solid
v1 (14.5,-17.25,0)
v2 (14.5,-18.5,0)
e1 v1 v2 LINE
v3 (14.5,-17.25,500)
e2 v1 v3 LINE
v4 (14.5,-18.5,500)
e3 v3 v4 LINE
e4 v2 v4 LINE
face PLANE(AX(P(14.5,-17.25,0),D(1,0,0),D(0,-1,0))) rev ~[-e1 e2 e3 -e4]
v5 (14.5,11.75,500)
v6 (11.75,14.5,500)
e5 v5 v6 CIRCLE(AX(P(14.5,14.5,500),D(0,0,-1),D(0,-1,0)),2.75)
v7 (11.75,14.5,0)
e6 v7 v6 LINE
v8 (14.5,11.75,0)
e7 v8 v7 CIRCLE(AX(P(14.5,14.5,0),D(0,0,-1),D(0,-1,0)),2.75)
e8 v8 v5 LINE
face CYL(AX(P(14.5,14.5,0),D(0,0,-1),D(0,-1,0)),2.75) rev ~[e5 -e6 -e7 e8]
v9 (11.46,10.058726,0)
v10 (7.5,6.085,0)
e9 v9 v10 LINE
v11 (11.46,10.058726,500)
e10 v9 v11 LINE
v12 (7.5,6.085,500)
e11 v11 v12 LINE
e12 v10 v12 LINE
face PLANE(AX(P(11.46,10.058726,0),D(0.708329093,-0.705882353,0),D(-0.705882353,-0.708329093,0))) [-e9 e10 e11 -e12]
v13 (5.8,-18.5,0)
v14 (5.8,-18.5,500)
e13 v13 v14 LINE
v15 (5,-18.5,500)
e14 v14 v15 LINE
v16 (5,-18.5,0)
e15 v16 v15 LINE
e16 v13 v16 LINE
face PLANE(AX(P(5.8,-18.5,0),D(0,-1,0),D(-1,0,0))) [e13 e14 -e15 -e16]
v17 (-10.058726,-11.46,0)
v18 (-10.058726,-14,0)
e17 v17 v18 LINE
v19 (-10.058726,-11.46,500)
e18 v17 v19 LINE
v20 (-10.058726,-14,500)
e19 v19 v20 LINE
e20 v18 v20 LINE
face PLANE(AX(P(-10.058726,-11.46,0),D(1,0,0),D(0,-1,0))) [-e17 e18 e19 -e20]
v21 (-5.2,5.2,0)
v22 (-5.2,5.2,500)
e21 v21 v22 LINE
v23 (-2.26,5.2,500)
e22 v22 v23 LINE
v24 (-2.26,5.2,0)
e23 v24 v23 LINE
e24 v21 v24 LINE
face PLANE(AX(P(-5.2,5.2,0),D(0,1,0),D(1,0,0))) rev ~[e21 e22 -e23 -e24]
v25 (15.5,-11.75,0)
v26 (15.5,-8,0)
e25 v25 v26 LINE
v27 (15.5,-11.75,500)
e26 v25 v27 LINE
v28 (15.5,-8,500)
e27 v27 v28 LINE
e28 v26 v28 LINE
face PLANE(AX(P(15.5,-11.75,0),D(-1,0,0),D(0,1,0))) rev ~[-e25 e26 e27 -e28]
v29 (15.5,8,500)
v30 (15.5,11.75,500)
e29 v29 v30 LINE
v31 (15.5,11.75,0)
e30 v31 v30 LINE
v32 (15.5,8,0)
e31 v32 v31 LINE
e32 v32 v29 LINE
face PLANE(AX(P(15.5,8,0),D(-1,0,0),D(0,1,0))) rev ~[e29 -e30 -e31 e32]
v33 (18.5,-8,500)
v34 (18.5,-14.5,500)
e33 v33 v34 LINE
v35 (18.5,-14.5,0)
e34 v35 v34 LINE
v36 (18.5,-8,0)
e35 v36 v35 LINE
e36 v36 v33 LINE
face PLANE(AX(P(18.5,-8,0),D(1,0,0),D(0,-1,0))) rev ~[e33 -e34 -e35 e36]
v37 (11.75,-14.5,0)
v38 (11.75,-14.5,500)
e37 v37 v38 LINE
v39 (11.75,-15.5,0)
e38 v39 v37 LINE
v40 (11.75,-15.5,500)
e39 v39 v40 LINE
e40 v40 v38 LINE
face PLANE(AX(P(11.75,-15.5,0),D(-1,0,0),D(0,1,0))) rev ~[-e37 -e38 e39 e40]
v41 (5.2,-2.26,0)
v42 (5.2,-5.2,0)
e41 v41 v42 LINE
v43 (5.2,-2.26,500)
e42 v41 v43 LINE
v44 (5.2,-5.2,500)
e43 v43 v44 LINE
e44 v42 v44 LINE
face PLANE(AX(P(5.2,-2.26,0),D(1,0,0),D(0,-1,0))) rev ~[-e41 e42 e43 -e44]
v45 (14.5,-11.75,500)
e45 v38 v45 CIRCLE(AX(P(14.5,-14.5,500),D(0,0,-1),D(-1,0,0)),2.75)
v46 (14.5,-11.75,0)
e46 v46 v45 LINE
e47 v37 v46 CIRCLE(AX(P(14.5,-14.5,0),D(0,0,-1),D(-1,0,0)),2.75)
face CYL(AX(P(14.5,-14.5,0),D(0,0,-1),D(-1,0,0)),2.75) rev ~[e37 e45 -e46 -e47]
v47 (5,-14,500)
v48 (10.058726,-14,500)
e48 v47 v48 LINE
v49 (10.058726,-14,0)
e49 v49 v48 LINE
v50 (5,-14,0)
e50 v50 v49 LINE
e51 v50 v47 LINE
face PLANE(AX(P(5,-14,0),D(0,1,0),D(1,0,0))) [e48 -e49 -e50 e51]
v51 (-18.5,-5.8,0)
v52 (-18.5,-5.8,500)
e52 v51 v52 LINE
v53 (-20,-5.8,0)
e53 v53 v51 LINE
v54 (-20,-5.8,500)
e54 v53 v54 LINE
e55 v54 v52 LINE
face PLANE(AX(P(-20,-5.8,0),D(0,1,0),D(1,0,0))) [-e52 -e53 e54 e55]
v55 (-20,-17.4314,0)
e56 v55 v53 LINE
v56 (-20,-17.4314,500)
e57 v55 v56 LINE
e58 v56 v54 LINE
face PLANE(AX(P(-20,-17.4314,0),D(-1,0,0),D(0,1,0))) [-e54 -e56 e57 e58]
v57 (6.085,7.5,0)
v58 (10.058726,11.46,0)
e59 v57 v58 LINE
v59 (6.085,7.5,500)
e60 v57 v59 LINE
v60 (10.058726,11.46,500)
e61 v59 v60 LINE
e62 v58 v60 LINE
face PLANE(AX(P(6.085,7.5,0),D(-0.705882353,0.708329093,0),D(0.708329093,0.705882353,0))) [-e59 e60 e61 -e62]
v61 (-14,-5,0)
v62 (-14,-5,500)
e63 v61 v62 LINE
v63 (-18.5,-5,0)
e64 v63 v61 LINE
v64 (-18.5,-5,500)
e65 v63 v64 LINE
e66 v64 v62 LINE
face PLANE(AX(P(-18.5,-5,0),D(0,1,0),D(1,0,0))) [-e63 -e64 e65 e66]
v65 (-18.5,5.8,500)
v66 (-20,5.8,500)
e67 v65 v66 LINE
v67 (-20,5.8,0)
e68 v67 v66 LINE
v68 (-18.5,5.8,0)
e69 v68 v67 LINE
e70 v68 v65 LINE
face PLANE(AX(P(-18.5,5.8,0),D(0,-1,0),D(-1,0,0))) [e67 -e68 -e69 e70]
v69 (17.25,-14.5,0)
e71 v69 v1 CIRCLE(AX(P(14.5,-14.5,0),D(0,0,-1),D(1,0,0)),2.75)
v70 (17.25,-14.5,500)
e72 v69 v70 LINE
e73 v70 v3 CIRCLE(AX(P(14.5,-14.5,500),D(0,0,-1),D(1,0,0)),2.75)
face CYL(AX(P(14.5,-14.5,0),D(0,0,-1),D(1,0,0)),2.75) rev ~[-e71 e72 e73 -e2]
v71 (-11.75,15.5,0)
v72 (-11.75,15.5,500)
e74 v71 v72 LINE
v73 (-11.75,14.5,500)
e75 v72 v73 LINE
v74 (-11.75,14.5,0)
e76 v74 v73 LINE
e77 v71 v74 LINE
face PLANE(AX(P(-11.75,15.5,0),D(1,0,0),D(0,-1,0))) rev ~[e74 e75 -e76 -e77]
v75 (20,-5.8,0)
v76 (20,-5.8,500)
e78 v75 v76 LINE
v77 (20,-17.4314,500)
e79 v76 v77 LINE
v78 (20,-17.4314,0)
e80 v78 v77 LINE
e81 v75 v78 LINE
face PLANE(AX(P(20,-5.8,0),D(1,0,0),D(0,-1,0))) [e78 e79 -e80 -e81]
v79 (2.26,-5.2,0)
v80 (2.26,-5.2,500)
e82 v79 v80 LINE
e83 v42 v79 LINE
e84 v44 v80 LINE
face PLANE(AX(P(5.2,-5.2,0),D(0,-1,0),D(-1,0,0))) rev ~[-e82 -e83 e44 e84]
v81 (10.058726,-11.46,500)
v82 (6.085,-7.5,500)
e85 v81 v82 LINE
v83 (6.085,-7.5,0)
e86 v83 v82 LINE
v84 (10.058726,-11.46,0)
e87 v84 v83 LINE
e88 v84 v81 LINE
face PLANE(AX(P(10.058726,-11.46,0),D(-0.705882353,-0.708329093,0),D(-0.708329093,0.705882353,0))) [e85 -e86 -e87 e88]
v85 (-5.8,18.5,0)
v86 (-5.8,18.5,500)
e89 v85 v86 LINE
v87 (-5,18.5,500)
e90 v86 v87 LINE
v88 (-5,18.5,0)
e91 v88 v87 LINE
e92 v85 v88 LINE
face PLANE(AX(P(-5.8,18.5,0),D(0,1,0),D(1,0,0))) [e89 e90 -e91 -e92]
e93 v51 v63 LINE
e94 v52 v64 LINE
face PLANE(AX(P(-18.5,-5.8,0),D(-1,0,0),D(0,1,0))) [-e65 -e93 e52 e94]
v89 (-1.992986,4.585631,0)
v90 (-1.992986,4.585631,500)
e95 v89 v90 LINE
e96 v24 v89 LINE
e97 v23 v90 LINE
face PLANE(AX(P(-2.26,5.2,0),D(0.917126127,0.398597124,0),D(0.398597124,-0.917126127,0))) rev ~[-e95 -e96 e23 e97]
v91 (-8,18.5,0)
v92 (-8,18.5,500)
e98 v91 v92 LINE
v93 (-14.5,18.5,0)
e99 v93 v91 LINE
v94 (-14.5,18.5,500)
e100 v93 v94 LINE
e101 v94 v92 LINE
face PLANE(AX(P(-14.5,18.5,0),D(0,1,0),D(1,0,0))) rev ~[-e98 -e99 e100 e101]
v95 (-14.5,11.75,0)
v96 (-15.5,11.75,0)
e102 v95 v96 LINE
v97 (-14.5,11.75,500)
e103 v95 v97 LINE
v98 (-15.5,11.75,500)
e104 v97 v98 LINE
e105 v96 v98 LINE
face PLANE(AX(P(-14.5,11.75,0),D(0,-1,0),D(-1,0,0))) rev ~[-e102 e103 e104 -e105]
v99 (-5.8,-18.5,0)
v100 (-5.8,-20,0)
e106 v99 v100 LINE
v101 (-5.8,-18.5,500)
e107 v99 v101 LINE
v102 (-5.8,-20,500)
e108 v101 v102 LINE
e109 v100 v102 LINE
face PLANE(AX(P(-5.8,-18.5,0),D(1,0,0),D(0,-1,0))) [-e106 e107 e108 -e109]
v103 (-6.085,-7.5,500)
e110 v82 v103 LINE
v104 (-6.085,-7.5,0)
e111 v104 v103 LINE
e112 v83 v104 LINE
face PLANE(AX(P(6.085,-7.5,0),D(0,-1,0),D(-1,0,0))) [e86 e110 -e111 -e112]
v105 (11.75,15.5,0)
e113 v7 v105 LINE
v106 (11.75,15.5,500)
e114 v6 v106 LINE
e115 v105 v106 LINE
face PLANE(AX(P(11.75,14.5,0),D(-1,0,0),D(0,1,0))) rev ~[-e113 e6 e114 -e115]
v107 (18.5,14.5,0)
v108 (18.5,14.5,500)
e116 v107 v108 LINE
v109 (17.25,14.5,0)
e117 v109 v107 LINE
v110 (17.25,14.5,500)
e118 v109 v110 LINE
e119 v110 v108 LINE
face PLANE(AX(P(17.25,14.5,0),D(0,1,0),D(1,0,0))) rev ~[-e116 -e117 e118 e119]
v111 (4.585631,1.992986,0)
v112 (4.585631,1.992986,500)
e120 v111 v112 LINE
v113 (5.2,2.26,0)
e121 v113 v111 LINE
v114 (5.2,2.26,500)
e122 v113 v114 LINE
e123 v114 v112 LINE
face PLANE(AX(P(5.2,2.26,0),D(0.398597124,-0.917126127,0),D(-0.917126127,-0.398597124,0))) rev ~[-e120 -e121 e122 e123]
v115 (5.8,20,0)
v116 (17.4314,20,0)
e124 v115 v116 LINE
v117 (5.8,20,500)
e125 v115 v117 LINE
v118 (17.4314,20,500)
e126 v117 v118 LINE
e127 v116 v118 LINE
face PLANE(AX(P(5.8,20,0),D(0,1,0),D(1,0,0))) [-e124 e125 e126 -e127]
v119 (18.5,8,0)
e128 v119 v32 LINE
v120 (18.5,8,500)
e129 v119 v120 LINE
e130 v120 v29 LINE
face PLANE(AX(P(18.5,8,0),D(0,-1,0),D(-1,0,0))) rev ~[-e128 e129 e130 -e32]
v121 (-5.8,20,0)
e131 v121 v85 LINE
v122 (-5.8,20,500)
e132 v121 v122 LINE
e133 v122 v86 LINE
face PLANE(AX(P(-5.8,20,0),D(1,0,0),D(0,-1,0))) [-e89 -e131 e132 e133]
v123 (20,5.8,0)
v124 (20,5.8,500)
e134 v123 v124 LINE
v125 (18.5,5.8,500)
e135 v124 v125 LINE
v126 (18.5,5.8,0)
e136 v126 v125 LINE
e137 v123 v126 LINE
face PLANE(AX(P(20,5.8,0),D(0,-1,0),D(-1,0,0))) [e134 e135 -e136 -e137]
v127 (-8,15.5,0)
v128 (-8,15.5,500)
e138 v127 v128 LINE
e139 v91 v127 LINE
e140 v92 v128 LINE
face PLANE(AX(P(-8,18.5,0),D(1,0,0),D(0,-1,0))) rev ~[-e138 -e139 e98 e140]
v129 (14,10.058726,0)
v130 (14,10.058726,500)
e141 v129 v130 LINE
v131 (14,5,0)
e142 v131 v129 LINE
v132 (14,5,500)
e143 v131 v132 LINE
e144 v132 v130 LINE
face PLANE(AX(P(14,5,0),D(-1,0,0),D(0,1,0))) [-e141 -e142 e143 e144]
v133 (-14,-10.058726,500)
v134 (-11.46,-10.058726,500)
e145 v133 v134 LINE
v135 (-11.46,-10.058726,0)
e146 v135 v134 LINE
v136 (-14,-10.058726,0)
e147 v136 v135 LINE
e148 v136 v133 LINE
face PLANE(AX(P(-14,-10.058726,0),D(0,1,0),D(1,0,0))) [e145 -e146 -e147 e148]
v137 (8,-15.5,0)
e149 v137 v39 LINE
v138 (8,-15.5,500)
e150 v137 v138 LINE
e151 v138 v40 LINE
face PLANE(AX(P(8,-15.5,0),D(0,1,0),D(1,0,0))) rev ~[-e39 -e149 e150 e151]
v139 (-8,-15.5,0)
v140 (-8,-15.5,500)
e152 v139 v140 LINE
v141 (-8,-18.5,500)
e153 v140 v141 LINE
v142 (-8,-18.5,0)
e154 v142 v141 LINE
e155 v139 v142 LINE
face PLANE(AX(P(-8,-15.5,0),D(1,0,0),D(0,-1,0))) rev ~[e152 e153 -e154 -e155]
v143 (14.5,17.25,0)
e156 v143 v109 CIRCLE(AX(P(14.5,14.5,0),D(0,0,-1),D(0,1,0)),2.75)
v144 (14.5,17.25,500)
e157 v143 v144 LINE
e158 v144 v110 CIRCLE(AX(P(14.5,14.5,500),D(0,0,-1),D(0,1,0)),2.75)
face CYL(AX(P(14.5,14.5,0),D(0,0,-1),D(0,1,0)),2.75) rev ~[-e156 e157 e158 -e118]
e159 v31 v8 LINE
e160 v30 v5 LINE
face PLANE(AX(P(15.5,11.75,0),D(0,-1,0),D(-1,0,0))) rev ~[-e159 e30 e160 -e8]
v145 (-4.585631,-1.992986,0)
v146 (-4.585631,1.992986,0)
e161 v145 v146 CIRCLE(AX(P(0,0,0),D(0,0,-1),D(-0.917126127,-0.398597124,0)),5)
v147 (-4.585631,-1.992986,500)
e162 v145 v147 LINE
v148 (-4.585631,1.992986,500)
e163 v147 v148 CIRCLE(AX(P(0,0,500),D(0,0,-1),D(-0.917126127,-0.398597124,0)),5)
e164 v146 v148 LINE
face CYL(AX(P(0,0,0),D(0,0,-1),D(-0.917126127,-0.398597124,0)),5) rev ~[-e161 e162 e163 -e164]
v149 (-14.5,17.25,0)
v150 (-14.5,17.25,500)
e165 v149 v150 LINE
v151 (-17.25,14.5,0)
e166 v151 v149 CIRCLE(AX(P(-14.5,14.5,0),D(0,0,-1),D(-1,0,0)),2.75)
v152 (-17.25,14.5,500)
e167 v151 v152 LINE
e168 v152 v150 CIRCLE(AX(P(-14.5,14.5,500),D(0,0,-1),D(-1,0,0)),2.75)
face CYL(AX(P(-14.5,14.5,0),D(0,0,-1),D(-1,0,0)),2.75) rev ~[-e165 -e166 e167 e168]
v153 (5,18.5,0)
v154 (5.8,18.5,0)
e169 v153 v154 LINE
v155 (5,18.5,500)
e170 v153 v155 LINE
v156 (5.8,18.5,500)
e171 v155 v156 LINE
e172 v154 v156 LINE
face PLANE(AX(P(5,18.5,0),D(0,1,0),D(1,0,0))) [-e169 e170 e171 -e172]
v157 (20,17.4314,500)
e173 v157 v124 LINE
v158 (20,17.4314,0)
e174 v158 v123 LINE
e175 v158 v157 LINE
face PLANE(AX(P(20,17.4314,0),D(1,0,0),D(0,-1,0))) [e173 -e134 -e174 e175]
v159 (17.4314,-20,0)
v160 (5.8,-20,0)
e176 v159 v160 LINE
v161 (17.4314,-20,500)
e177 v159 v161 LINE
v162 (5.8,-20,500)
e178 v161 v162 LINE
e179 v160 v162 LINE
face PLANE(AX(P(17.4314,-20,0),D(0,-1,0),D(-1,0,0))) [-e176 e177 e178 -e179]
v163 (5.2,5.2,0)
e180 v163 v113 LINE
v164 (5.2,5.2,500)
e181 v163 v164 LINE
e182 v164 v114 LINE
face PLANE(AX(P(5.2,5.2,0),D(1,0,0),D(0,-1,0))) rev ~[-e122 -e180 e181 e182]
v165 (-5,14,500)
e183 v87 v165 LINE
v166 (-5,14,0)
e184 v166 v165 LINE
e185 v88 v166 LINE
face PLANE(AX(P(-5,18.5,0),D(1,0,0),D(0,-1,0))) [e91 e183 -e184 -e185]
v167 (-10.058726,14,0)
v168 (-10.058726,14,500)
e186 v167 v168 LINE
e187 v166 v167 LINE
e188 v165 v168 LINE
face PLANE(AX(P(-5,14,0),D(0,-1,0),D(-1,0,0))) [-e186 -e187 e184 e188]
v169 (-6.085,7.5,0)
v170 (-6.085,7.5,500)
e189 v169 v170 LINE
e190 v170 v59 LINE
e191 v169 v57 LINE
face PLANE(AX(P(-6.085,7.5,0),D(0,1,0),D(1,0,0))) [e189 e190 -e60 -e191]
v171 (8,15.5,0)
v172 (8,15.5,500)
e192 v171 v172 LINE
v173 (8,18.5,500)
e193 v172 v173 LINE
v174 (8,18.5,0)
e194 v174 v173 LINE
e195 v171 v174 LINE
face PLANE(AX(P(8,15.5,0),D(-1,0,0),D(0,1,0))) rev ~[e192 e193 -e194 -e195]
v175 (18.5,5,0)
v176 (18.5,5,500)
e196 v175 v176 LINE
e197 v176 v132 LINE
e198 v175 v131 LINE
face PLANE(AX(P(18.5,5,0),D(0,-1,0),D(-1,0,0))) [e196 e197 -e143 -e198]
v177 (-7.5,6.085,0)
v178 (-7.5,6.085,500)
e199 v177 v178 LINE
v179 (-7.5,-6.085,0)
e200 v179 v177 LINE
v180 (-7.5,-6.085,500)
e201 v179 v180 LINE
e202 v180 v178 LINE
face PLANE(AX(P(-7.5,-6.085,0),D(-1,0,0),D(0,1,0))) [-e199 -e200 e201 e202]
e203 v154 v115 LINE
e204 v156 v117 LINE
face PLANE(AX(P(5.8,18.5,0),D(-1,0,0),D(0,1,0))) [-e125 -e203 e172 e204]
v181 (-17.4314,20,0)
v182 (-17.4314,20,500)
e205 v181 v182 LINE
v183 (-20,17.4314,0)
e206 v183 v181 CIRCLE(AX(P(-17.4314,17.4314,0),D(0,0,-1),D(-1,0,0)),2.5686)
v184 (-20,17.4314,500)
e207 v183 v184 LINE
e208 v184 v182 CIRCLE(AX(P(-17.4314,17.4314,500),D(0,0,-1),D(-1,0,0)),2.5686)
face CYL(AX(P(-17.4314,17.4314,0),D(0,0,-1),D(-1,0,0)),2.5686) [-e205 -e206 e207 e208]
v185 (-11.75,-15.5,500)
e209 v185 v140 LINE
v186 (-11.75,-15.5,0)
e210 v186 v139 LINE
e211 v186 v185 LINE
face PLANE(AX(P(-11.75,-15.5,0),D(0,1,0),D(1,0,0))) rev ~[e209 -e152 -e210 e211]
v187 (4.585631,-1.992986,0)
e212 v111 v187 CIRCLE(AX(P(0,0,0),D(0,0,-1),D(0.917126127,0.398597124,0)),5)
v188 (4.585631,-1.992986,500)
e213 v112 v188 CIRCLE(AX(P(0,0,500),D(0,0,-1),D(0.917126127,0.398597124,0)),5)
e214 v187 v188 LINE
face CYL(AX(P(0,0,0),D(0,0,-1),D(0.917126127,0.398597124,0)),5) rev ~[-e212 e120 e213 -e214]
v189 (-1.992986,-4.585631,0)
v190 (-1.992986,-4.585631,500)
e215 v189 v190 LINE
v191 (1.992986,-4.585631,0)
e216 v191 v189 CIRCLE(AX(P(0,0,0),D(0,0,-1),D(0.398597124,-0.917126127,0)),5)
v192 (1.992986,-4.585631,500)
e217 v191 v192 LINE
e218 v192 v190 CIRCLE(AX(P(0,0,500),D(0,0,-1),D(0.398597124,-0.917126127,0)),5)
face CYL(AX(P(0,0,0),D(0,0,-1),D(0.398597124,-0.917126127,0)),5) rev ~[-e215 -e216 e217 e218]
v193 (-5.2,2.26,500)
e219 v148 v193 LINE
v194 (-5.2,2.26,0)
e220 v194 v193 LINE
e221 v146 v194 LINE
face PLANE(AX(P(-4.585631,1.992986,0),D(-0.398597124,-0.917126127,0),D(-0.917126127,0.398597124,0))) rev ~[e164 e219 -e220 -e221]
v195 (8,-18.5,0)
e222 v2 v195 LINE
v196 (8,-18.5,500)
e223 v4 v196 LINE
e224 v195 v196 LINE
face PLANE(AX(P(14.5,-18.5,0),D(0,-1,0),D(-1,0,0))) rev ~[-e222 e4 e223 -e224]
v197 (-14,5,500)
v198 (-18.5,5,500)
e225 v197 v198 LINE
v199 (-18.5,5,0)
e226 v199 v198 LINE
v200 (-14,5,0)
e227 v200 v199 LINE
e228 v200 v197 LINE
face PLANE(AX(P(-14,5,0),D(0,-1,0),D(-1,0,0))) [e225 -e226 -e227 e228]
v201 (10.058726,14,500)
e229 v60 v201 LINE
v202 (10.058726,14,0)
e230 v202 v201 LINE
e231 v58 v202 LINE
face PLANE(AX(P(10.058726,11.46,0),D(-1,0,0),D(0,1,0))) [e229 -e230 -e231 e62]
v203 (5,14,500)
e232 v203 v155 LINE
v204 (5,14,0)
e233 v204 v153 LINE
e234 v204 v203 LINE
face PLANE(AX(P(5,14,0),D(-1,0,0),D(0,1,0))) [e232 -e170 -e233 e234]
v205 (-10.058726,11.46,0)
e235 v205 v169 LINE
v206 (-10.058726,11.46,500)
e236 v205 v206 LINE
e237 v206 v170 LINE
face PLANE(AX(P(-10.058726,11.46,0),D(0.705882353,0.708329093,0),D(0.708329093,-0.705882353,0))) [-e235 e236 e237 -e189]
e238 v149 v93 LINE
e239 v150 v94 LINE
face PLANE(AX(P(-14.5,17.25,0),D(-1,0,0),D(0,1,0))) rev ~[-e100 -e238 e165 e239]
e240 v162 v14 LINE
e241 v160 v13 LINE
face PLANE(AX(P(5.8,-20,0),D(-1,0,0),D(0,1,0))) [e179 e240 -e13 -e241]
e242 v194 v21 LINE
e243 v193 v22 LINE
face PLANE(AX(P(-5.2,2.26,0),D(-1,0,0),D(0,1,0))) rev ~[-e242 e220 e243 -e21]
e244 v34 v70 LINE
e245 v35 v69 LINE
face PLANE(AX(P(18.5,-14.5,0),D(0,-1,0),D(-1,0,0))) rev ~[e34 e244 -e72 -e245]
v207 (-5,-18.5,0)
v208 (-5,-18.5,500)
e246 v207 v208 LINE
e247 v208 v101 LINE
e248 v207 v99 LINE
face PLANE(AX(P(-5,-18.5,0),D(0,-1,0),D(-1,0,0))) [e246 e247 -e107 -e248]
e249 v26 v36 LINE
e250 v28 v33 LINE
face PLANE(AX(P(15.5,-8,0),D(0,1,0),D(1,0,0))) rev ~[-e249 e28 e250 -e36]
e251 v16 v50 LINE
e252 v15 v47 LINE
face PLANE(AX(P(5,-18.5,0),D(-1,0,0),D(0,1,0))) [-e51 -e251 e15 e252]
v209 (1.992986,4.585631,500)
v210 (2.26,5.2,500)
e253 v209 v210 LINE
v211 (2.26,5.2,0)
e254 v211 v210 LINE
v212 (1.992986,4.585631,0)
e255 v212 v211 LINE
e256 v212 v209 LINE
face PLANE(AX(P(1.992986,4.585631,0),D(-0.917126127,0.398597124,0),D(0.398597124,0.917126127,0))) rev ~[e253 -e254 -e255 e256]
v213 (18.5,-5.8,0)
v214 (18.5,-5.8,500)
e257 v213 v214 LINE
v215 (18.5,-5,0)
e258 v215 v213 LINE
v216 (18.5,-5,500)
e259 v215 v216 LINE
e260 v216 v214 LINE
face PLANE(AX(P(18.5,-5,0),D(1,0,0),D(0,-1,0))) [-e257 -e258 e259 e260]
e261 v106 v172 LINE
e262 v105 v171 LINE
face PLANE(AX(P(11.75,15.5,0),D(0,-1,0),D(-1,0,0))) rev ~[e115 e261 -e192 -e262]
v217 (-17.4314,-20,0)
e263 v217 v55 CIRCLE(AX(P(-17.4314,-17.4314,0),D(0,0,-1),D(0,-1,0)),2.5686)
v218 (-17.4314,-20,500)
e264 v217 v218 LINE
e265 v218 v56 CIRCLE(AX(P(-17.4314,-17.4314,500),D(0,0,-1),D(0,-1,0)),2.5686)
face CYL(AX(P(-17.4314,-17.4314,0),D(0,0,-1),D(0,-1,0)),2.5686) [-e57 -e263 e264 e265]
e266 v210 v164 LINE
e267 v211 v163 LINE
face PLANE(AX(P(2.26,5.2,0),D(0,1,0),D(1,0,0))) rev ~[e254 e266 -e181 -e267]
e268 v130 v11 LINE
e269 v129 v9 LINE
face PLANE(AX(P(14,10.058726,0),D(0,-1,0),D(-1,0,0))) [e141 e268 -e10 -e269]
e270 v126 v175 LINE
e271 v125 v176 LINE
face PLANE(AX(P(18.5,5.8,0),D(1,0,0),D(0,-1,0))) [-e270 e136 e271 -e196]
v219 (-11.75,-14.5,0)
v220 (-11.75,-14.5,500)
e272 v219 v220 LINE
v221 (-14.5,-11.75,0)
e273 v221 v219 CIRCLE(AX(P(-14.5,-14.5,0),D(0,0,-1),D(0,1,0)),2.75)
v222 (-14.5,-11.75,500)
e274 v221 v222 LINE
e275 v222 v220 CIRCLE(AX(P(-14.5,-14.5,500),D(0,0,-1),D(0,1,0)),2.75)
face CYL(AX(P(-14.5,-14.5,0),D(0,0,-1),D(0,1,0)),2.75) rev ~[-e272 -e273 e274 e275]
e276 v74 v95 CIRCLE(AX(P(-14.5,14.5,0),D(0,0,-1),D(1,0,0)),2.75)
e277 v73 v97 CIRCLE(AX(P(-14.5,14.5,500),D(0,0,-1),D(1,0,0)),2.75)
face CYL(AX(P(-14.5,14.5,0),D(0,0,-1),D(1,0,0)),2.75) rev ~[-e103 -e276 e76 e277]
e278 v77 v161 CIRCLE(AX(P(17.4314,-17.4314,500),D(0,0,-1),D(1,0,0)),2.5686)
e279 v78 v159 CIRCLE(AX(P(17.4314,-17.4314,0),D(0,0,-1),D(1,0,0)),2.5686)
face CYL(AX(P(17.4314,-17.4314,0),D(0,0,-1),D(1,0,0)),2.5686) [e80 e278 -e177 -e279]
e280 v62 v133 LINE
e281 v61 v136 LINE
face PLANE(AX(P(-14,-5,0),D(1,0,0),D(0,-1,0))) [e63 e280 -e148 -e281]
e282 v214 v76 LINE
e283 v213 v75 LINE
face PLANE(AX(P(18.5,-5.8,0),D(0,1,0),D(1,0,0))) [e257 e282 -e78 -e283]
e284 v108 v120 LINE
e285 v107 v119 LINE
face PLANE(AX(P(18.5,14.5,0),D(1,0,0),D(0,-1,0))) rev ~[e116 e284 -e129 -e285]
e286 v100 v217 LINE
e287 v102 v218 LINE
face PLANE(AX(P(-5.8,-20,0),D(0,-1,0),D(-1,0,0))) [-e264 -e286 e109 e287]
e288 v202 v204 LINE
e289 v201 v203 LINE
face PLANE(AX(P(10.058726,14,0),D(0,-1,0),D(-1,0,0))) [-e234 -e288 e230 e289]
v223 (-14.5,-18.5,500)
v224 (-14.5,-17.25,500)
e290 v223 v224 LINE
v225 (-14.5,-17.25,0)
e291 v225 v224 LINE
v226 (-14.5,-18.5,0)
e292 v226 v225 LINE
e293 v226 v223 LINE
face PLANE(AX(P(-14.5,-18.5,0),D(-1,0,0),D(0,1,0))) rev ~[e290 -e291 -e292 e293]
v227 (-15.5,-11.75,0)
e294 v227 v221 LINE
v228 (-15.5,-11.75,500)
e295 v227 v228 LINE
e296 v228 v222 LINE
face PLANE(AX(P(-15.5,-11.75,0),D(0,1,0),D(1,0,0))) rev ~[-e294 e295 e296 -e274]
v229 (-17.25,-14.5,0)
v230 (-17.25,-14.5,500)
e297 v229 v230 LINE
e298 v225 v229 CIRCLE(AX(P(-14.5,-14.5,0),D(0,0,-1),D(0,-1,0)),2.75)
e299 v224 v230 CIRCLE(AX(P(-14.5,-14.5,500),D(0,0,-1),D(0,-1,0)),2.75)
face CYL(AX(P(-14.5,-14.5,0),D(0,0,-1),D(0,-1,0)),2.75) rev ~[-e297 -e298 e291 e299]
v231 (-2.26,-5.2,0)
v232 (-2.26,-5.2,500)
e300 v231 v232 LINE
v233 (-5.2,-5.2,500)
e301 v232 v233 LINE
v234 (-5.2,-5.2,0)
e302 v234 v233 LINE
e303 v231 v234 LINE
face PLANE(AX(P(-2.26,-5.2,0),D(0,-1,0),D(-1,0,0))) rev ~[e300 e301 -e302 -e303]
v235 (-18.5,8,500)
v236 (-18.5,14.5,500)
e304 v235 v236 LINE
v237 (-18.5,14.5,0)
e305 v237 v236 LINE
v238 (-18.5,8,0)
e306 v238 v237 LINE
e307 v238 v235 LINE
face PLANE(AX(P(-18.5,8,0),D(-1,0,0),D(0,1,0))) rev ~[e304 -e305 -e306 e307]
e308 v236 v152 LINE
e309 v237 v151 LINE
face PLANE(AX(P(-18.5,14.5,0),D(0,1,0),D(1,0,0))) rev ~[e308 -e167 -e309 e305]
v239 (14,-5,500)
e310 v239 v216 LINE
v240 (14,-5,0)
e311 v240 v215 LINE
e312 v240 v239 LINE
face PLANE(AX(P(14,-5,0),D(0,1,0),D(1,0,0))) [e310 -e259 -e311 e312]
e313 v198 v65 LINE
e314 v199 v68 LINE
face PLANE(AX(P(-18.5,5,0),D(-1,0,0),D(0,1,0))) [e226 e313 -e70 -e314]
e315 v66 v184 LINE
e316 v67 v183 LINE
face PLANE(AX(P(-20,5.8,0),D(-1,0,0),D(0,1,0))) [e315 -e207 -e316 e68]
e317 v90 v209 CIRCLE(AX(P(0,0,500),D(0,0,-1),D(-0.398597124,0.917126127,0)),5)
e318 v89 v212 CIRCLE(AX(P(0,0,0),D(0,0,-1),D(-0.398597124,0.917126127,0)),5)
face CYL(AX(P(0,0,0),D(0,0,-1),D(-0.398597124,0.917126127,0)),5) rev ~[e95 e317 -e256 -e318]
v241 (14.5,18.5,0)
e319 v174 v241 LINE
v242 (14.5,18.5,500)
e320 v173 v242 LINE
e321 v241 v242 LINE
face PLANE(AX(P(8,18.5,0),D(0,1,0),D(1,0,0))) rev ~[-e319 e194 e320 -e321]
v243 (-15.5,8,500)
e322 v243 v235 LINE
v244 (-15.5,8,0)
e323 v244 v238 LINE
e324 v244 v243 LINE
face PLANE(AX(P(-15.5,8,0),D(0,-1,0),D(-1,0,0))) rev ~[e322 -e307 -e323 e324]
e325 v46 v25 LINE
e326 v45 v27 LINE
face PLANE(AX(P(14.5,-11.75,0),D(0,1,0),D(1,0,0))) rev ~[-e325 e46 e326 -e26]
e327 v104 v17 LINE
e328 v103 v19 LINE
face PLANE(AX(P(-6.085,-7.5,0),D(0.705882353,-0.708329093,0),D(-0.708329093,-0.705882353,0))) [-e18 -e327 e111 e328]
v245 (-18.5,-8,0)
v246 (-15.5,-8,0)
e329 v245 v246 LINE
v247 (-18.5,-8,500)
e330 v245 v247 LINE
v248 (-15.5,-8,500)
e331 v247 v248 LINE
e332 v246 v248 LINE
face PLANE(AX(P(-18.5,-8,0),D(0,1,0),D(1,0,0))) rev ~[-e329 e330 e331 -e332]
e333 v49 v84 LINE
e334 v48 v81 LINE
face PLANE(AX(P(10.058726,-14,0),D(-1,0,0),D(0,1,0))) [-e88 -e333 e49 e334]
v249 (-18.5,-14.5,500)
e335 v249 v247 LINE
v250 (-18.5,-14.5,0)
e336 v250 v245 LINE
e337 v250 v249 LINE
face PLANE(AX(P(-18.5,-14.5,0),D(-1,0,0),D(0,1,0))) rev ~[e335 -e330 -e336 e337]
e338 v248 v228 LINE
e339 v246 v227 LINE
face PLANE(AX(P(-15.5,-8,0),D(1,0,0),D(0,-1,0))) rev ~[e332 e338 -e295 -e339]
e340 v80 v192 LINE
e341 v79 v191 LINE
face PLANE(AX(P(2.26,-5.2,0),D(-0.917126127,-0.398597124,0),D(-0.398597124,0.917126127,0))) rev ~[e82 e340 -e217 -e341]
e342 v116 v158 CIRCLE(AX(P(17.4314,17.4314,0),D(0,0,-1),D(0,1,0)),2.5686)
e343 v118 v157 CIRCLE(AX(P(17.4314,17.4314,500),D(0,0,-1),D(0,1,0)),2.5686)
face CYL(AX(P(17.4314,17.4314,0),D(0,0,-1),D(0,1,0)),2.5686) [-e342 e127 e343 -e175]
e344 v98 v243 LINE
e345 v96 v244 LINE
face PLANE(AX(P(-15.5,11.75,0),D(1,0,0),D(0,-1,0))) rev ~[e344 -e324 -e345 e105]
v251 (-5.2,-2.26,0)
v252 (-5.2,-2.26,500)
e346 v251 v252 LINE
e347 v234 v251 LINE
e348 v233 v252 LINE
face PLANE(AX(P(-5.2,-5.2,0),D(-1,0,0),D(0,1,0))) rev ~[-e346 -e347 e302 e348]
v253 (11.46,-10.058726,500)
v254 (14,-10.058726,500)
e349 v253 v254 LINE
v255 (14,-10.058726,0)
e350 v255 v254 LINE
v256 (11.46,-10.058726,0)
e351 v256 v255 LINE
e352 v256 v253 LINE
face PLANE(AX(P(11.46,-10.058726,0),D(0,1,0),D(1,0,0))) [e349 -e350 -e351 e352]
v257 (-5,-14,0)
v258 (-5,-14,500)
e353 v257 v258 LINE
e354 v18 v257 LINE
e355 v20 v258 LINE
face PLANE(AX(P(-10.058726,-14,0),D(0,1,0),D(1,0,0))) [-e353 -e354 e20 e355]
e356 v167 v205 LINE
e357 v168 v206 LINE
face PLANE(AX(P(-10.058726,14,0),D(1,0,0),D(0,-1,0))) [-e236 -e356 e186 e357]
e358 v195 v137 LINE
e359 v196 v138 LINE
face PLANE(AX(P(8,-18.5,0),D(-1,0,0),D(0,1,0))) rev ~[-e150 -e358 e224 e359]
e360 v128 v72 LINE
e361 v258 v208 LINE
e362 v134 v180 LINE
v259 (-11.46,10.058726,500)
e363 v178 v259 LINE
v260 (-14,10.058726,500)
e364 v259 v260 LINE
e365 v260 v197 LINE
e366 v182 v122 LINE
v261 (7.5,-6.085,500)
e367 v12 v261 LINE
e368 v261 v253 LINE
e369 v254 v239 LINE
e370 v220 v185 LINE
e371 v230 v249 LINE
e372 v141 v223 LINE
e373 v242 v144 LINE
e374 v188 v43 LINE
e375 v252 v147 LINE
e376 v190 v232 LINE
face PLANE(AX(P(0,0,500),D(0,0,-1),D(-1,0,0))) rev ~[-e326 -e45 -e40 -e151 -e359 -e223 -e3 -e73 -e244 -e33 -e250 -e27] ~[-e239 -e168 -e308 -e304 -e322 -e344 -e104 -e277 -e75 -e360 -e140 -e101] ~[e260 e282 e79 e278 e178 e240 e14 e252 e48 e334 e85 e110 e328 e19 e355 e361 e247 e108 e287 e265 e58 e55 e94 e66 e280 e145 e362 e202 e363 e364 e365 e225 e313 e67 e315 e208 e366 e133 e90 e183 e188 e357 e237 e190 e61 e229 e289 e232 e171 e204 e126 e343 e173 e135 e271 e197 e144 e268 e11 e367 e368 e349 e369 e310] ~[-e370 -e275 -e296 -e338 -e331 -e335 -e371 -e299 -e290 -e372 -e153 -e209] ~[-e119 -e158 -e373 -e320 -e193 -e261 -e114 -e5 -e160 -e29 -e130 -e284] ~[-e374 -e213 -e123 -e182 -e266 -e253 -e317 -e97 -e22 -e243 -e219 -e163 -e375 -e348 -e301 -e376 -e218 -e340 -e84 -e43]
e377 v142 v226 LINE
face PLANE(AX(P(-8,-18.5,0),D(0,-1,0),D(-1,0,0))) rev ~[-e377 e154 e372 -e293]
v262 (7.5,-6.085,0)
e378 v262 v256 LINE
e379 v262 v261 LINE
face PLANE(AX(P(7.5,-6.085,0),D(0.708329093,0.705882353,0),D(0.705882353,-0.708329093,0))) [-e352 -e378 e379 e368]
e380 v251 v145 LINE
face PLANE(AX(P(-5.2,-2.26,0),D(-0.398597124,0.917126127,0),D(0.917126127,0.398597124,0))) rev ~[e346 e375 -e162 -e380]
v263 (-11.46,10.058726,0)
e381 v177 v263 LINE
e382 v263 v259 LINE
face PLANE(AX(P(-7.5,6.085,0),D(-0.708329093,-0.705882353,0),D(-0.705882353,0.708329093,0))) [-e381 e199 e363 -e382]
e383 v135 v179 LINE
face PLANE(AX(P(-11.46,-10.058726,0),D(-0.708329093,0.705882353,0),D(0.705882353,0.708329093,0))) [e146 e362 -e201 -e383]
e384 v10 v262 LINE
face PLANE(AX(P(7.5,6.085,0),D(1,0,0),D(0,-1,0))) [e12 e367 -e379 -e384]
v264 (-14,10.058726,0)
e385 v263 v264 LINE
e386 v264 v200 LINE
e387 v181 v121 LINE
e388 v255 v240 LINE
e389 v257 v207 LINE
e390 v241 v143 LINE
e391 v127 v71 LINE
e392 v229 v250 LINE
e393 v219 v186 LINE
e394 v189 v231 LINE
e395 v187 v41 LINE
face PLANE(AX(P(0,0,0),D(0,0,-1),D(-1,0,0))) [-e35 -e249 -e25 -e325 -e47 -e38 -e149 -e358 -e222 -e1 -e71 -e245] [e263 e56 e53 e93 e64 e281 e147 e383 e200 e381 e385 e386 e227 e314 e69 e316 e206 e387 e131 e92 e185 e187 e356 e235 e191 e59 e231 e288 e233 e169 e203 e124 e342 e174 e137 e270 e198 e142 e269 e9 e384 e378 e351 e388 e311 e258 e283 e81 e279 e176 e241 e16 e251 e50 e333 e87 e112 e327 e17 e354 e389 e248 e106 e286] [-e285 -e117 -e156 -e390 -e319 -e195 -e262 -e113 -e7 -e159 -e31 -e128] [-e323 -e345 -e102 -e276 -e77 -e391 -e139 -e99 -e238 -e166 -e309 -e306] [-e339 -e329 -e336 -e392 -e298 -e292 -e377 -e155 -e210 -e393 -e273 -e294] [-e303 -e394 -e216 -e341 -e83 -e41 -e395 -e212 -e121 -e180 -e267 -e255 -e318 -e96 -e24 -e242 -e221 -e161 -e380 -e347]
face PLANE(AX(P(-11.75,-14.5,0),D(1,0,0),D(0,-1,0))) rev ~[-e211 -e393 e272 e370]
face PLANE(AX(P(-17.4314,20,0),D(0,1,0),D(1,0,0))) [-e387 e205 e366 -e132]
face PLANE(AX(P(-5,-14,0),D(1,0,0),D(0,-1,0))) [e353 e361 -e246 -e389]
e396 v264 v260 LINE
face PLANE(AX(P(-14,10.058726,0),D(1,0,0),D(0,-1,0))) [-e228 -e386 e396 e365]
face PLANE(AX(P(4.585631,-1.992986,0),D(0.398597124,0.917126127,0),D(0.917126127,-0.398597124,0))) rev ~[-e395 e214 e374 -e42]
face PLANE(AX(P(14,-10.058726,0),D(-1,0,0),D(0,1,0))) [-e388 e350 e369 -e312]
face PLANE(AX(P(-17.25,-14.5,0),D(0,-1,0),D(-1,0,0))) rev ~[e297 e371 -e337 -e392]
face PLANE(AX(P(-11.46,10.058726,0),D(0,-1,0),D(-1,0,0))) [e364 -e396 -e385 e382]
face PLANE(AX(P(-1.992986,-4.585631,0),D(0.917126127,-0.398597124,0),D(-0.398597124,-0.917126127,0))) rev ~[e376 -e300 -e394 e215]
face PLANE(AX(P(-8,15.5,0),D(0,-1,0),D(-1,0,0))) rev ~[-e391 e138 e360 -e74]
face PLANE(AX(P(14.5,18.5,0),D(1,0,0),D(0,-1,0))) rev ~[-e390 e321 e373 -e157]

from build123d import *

# Parameters (mm, degrees)
ESTRUSIONE_ESTRUSIONE1_DEPTH = 500


with BuildPart() as part:
    # Schizzo1 → Estrusione-Estrusione1 (new body)
    with BuildSketch(Plane.XY):
        with BuildLine():
            Line((-5, 18.5), (-5, 14))
            Line((-5, 14), (-10.058726211, 14))
            Line((-10.058726211, 14), (-10.058726211, 11.46))
            Line((-10.058726211, 11.46), (-6.085, 7.5))
            Line((-6.085, 7.5), (6.085, 7.5))
            Line((6.085, 7.5), (10.058726211, 11.46))
            Line((10.058726211, 11.46), (10.058726211, 14))
            Line((10.058726211, 14), (5, 14))
            Line((5, 14), (5, 18.5))
            Line((5, 18.5), (5.8, 18.5))
            Line((5.8, 18.5), (5.8, 20))
            Line((5.8, 20), (17.4314, 20))
            ThreePointArc((17.4314, 20), (19.247674478, 19.247674478), (20, 17.4314))
            Line((20, 17.4314), (20, 5.8))
            Line((20, 5.8), (18.5, 5.8))
            Line((18.5, 5.8), (18.5, 5))
            Line((18.5, 5), (14, 5))
            Line((14, 5), (14, 10.058726211))
            Line((14, 10.058726211), (11.46, 10.058726211))
            Line((11.46, 10.058726211), (7.5, 6.085))
            Line((7.5, 6.085), (7.5, -6.085))
            Line((7.5, -6.085), (11.46, -10.058726211))
            Line((11.46, -10.058726211), (14, -10.058726211))
            Line((14, -10.058726211), (14, -5))
            Line((14, -5), (18.5, -5))
            Line((18.5, -5), (18.5, -5.8))
            Line((18.5, -5.8), (20, -5.8))
            Line((20, -5.8), (20, -17.4314))
            ThreePointArc((20, -17.4314), (19.247674478, -19.247674478), (17.4314, -20))
            Line((17.4314, -20), (5.8, -20))
            Line((5.8, -20), (5.8, -18.5))
            Line((5.8, -18.5), (5, -18.5))
            Line((5, -18.5), (5, -14))
            Line((5, -14), (10.058726211, -14))
            Line((10.058726211, -14), (10.058726211, -11.46))
            Line((10.058726211, -11.46), (6.085, -7.5))
            Line((6.085, -7.5), (-6.085, -7.5))
            Line((-6.085, -7.5), (-10.058726211, -11.46))
            Line((-10.058726211, -11.46), (-10.058726211, -14))
            Line((-10.058726211, -14), (-5, -14))
            Line((-5, -14), (-5, -18.5))
            Line((-5, -18.5), (-5.8, -18.5))
            Line((-5.8, -18.5), (-5.8, -20))
            Line((-5.8, -20), (-17.4314, -20))
            ThreePointArc((-17.4314, -20), (-19.247674478, -19.247674478), (-20, -17.4314))
            Line((-20, -17.4314), (-20, -5.8))
            Line((-20, -5.8), (-18.5, -5.8))
            Line((-18.5, -5.8), (-18.5, -5))
            Line((-18.5, -5), (-14, -5))
            Line((-14, -5), (-14, -10.058726211))
            Line((-14, -10.058726211), (-11.46, -10.058726211))
            Line((-11.46, -10.058726211), (-7.5, -6.085))
            Line((-7.5, -6.085), (-7.5, 6.085))
            Line((-7.5, 6.085), (-11.46, 10.058726211))
            Line((-11.46, 10.058726211), (-14, 10.058726211))
            Line((-14, 10.058726211), (-14, 5))
            Line((-14, 5), (-18.5, 5))
            Line((-18.5, 5), (-18.5, 5.8))
            Line((-18.5, 5.8), (-20, 5.8))
            Line((-20, 5.8), (-20, 17.4314))
            ThreePointArc((-20, 17.4314), (-19.247674478, 19.247674478), (-17.4314, 20))
            Line((-17.4314, 20), (-5.8, 20))
            Line((-5.8, 20), (-5.8, 18.5))
            Line((-5.8, 18.5), (-5, 18.5))
        make_face()
        with BuildLine():
            Line((-5.2, 5.2), (-2.26, 5.2))
            Line((-2.26, 5.2), (-1.992985622, 4.585630634))
            ThreePointArc((-1.992985622, 4.585630634), (0, 5), (1.992985622, 4.585630634))
            Line((1.992985622, 4.585630634), (2.26, 5.2))
            Line((2.26, 5.2), (5.2, 5.2))
            Line((5.2, 5.2), (5.2, 2.26))
            Line((5.2, 2.26), (4.585630634, 1.992985622))
            ThreePointArc((4.585630634, 1.992985622), (5, 0), (4.585630634, -1.992985622))
            Line((4.585630634, -1.992985622), (5.2, -2.26))
            Line((5.2, -2.26), (5.2, -5.2))
            Line((5.2, -5.2), (2.26, -5.2))
            Line((2.26, -5.2), (1.992985622, -4.585630634))
            ThreePointArc((1.992985622, -4.585630634), (0, -5), (-1.992985622, -4.585630634))
            Line((-1.992985622, -4.585630634), (-2.26, -5.2))
            Line((-2.26, -5.2), (-5.2, -5.2))
            Line((-5.2, -5.2), (-5.2, -2.26))
            Line((-5.2, -2.26), (-4.585630634, -1.992985622))
            ThreePointArc((-4.585630634, -1.992985622), (-5, 0), (-4.585630634, 1.992985622))
            Line((-4.585630634, 1.992985622), (-5.2, 2.26))
            Line((-5.2, 2.26), (-5.2, 5.2))
        make_face(mode=Mode.SUBTRACT)
        with BuildLine():
            Line((-11.75, 15.5), (-11.75, 14.5))
            ThreePointArc((-11.75, 14.5), (-12.555456352, 12.555456352), (-14.5, 11.75))
            Line((-14.5, 11.75), (-15.5, 11.75))
            Line((-15.5, 11.75), (-15.5, 8))
            Line((-15.5, 8), (-18.5, 8))
            Line((-18.5, 8), (-18.5, 14.5))
            Line((-18.5, 14.5), (-17.25, 14.5))
            ThreePointArc((-17.25, 14.5), (-16.444543648, 16.444543648), (-14.5, 17.25))
            Line((-14.5, 17.25), (-14.5, 18.5))
            Line((-14.5, 18.5), (-8, 18.5))
            Line((-8, 18.5), (-8, 15.5))
            Line((-8, 15.5), (-11.75, 15.5))
        make_face(mode=Mode.SUBTRACT)
        with BuildLine():
            Line((15.5, 11.75), (14.5, 11.75))
            ThreePointArc((14.5, 11.75), (12.555456352, 12.555456352), (11.75, 14.5))
            Line((11.75, 14.5), (11.75, 15.5))
            Line((11.75, 15.5), (8, 15.5))
            Line((8, 15.5), (8, 18.5))
            Line((8, 18.5), (14.5, 18.5))
            Line((14.5, 18.5), (14.5, 17.25))
            ThreePointArc((14.5, 17.25), (16.444543648, 16.444543648), (17.25, 14.5))
            Line((17.25, 14.5), (18.5, 14.5))
            Line((18.5, 14.5), (18.5, 8))
            Line((18.5, 8), (15.5, 8))
            Line((15.5, 8), (15.5, 11.75))
        make_face(mode=Mode.SUBTRACT)
        with BuildLine():
            Line((11.75, -15.5), (11.75, -14.5))
            ThreePointArc((11.75, -14.5), (12.555456352, -12.555456352), (14.5, -11.75))
            Line((14.5, -11.75), (15.5, -11.75))
            Line((15.5, -11.75), (15.5, -8))
            Line((15.5, -8), (18.5, -8))
            Line((18.5, -8), (18.5, -14.5))
            Line((18.5, -14.5), (17.25, -14.5))
            ThreePointArc((17.25, -14.5), (16.444543648, -16.444543648), (14.5, -17.25))
            Line((14.5, -17.25), (14.5, -18.5))
            Line((14.5, -18.5), (8, -18.5))
            Line((8, -18.5), (8, -15.5))
            Line((8, -15.5), (11.75, -15.5))
        make_face(mode=Mode.SUBTRACT)
        with BuildLine():
            Line((-15.5, -11.75), (-14.5, -11.75))
            ThreePointArc((-14.5, -11.75), (-12.555456352, -12.555456352), (-11.75, -14.5))
            Line((-11.75, -14.5), (-11.75, -15.5))
            Line((-11.75, -15.5), (-8, -15.5))
            Line((-8, -15.5), (-8, -18.5))
            Line((-8, -18.5), (-14.5, -18.5))
            Line((-14.5, -18.5), (-14.5, -17.25))
            ThreePointArc((-14.5, -17.25), (-16.444543648, -16.444543648), (-17.25, -14.5))
            Line((-17.25, -14.5), (-18.5, -14.5))
            Line((-18.5, -14.5), (-18.5, -8))
            Line((-18.5, -8), (-15.5, -8))
            Line((-15.5, -8), (-15.5, -11.75))
        make_face(mode=Mode.SUBTRACT)
    extrude(amount=ESTRUSIONE_ESTRUSIONE1_DEPTH)


solid = part.part
